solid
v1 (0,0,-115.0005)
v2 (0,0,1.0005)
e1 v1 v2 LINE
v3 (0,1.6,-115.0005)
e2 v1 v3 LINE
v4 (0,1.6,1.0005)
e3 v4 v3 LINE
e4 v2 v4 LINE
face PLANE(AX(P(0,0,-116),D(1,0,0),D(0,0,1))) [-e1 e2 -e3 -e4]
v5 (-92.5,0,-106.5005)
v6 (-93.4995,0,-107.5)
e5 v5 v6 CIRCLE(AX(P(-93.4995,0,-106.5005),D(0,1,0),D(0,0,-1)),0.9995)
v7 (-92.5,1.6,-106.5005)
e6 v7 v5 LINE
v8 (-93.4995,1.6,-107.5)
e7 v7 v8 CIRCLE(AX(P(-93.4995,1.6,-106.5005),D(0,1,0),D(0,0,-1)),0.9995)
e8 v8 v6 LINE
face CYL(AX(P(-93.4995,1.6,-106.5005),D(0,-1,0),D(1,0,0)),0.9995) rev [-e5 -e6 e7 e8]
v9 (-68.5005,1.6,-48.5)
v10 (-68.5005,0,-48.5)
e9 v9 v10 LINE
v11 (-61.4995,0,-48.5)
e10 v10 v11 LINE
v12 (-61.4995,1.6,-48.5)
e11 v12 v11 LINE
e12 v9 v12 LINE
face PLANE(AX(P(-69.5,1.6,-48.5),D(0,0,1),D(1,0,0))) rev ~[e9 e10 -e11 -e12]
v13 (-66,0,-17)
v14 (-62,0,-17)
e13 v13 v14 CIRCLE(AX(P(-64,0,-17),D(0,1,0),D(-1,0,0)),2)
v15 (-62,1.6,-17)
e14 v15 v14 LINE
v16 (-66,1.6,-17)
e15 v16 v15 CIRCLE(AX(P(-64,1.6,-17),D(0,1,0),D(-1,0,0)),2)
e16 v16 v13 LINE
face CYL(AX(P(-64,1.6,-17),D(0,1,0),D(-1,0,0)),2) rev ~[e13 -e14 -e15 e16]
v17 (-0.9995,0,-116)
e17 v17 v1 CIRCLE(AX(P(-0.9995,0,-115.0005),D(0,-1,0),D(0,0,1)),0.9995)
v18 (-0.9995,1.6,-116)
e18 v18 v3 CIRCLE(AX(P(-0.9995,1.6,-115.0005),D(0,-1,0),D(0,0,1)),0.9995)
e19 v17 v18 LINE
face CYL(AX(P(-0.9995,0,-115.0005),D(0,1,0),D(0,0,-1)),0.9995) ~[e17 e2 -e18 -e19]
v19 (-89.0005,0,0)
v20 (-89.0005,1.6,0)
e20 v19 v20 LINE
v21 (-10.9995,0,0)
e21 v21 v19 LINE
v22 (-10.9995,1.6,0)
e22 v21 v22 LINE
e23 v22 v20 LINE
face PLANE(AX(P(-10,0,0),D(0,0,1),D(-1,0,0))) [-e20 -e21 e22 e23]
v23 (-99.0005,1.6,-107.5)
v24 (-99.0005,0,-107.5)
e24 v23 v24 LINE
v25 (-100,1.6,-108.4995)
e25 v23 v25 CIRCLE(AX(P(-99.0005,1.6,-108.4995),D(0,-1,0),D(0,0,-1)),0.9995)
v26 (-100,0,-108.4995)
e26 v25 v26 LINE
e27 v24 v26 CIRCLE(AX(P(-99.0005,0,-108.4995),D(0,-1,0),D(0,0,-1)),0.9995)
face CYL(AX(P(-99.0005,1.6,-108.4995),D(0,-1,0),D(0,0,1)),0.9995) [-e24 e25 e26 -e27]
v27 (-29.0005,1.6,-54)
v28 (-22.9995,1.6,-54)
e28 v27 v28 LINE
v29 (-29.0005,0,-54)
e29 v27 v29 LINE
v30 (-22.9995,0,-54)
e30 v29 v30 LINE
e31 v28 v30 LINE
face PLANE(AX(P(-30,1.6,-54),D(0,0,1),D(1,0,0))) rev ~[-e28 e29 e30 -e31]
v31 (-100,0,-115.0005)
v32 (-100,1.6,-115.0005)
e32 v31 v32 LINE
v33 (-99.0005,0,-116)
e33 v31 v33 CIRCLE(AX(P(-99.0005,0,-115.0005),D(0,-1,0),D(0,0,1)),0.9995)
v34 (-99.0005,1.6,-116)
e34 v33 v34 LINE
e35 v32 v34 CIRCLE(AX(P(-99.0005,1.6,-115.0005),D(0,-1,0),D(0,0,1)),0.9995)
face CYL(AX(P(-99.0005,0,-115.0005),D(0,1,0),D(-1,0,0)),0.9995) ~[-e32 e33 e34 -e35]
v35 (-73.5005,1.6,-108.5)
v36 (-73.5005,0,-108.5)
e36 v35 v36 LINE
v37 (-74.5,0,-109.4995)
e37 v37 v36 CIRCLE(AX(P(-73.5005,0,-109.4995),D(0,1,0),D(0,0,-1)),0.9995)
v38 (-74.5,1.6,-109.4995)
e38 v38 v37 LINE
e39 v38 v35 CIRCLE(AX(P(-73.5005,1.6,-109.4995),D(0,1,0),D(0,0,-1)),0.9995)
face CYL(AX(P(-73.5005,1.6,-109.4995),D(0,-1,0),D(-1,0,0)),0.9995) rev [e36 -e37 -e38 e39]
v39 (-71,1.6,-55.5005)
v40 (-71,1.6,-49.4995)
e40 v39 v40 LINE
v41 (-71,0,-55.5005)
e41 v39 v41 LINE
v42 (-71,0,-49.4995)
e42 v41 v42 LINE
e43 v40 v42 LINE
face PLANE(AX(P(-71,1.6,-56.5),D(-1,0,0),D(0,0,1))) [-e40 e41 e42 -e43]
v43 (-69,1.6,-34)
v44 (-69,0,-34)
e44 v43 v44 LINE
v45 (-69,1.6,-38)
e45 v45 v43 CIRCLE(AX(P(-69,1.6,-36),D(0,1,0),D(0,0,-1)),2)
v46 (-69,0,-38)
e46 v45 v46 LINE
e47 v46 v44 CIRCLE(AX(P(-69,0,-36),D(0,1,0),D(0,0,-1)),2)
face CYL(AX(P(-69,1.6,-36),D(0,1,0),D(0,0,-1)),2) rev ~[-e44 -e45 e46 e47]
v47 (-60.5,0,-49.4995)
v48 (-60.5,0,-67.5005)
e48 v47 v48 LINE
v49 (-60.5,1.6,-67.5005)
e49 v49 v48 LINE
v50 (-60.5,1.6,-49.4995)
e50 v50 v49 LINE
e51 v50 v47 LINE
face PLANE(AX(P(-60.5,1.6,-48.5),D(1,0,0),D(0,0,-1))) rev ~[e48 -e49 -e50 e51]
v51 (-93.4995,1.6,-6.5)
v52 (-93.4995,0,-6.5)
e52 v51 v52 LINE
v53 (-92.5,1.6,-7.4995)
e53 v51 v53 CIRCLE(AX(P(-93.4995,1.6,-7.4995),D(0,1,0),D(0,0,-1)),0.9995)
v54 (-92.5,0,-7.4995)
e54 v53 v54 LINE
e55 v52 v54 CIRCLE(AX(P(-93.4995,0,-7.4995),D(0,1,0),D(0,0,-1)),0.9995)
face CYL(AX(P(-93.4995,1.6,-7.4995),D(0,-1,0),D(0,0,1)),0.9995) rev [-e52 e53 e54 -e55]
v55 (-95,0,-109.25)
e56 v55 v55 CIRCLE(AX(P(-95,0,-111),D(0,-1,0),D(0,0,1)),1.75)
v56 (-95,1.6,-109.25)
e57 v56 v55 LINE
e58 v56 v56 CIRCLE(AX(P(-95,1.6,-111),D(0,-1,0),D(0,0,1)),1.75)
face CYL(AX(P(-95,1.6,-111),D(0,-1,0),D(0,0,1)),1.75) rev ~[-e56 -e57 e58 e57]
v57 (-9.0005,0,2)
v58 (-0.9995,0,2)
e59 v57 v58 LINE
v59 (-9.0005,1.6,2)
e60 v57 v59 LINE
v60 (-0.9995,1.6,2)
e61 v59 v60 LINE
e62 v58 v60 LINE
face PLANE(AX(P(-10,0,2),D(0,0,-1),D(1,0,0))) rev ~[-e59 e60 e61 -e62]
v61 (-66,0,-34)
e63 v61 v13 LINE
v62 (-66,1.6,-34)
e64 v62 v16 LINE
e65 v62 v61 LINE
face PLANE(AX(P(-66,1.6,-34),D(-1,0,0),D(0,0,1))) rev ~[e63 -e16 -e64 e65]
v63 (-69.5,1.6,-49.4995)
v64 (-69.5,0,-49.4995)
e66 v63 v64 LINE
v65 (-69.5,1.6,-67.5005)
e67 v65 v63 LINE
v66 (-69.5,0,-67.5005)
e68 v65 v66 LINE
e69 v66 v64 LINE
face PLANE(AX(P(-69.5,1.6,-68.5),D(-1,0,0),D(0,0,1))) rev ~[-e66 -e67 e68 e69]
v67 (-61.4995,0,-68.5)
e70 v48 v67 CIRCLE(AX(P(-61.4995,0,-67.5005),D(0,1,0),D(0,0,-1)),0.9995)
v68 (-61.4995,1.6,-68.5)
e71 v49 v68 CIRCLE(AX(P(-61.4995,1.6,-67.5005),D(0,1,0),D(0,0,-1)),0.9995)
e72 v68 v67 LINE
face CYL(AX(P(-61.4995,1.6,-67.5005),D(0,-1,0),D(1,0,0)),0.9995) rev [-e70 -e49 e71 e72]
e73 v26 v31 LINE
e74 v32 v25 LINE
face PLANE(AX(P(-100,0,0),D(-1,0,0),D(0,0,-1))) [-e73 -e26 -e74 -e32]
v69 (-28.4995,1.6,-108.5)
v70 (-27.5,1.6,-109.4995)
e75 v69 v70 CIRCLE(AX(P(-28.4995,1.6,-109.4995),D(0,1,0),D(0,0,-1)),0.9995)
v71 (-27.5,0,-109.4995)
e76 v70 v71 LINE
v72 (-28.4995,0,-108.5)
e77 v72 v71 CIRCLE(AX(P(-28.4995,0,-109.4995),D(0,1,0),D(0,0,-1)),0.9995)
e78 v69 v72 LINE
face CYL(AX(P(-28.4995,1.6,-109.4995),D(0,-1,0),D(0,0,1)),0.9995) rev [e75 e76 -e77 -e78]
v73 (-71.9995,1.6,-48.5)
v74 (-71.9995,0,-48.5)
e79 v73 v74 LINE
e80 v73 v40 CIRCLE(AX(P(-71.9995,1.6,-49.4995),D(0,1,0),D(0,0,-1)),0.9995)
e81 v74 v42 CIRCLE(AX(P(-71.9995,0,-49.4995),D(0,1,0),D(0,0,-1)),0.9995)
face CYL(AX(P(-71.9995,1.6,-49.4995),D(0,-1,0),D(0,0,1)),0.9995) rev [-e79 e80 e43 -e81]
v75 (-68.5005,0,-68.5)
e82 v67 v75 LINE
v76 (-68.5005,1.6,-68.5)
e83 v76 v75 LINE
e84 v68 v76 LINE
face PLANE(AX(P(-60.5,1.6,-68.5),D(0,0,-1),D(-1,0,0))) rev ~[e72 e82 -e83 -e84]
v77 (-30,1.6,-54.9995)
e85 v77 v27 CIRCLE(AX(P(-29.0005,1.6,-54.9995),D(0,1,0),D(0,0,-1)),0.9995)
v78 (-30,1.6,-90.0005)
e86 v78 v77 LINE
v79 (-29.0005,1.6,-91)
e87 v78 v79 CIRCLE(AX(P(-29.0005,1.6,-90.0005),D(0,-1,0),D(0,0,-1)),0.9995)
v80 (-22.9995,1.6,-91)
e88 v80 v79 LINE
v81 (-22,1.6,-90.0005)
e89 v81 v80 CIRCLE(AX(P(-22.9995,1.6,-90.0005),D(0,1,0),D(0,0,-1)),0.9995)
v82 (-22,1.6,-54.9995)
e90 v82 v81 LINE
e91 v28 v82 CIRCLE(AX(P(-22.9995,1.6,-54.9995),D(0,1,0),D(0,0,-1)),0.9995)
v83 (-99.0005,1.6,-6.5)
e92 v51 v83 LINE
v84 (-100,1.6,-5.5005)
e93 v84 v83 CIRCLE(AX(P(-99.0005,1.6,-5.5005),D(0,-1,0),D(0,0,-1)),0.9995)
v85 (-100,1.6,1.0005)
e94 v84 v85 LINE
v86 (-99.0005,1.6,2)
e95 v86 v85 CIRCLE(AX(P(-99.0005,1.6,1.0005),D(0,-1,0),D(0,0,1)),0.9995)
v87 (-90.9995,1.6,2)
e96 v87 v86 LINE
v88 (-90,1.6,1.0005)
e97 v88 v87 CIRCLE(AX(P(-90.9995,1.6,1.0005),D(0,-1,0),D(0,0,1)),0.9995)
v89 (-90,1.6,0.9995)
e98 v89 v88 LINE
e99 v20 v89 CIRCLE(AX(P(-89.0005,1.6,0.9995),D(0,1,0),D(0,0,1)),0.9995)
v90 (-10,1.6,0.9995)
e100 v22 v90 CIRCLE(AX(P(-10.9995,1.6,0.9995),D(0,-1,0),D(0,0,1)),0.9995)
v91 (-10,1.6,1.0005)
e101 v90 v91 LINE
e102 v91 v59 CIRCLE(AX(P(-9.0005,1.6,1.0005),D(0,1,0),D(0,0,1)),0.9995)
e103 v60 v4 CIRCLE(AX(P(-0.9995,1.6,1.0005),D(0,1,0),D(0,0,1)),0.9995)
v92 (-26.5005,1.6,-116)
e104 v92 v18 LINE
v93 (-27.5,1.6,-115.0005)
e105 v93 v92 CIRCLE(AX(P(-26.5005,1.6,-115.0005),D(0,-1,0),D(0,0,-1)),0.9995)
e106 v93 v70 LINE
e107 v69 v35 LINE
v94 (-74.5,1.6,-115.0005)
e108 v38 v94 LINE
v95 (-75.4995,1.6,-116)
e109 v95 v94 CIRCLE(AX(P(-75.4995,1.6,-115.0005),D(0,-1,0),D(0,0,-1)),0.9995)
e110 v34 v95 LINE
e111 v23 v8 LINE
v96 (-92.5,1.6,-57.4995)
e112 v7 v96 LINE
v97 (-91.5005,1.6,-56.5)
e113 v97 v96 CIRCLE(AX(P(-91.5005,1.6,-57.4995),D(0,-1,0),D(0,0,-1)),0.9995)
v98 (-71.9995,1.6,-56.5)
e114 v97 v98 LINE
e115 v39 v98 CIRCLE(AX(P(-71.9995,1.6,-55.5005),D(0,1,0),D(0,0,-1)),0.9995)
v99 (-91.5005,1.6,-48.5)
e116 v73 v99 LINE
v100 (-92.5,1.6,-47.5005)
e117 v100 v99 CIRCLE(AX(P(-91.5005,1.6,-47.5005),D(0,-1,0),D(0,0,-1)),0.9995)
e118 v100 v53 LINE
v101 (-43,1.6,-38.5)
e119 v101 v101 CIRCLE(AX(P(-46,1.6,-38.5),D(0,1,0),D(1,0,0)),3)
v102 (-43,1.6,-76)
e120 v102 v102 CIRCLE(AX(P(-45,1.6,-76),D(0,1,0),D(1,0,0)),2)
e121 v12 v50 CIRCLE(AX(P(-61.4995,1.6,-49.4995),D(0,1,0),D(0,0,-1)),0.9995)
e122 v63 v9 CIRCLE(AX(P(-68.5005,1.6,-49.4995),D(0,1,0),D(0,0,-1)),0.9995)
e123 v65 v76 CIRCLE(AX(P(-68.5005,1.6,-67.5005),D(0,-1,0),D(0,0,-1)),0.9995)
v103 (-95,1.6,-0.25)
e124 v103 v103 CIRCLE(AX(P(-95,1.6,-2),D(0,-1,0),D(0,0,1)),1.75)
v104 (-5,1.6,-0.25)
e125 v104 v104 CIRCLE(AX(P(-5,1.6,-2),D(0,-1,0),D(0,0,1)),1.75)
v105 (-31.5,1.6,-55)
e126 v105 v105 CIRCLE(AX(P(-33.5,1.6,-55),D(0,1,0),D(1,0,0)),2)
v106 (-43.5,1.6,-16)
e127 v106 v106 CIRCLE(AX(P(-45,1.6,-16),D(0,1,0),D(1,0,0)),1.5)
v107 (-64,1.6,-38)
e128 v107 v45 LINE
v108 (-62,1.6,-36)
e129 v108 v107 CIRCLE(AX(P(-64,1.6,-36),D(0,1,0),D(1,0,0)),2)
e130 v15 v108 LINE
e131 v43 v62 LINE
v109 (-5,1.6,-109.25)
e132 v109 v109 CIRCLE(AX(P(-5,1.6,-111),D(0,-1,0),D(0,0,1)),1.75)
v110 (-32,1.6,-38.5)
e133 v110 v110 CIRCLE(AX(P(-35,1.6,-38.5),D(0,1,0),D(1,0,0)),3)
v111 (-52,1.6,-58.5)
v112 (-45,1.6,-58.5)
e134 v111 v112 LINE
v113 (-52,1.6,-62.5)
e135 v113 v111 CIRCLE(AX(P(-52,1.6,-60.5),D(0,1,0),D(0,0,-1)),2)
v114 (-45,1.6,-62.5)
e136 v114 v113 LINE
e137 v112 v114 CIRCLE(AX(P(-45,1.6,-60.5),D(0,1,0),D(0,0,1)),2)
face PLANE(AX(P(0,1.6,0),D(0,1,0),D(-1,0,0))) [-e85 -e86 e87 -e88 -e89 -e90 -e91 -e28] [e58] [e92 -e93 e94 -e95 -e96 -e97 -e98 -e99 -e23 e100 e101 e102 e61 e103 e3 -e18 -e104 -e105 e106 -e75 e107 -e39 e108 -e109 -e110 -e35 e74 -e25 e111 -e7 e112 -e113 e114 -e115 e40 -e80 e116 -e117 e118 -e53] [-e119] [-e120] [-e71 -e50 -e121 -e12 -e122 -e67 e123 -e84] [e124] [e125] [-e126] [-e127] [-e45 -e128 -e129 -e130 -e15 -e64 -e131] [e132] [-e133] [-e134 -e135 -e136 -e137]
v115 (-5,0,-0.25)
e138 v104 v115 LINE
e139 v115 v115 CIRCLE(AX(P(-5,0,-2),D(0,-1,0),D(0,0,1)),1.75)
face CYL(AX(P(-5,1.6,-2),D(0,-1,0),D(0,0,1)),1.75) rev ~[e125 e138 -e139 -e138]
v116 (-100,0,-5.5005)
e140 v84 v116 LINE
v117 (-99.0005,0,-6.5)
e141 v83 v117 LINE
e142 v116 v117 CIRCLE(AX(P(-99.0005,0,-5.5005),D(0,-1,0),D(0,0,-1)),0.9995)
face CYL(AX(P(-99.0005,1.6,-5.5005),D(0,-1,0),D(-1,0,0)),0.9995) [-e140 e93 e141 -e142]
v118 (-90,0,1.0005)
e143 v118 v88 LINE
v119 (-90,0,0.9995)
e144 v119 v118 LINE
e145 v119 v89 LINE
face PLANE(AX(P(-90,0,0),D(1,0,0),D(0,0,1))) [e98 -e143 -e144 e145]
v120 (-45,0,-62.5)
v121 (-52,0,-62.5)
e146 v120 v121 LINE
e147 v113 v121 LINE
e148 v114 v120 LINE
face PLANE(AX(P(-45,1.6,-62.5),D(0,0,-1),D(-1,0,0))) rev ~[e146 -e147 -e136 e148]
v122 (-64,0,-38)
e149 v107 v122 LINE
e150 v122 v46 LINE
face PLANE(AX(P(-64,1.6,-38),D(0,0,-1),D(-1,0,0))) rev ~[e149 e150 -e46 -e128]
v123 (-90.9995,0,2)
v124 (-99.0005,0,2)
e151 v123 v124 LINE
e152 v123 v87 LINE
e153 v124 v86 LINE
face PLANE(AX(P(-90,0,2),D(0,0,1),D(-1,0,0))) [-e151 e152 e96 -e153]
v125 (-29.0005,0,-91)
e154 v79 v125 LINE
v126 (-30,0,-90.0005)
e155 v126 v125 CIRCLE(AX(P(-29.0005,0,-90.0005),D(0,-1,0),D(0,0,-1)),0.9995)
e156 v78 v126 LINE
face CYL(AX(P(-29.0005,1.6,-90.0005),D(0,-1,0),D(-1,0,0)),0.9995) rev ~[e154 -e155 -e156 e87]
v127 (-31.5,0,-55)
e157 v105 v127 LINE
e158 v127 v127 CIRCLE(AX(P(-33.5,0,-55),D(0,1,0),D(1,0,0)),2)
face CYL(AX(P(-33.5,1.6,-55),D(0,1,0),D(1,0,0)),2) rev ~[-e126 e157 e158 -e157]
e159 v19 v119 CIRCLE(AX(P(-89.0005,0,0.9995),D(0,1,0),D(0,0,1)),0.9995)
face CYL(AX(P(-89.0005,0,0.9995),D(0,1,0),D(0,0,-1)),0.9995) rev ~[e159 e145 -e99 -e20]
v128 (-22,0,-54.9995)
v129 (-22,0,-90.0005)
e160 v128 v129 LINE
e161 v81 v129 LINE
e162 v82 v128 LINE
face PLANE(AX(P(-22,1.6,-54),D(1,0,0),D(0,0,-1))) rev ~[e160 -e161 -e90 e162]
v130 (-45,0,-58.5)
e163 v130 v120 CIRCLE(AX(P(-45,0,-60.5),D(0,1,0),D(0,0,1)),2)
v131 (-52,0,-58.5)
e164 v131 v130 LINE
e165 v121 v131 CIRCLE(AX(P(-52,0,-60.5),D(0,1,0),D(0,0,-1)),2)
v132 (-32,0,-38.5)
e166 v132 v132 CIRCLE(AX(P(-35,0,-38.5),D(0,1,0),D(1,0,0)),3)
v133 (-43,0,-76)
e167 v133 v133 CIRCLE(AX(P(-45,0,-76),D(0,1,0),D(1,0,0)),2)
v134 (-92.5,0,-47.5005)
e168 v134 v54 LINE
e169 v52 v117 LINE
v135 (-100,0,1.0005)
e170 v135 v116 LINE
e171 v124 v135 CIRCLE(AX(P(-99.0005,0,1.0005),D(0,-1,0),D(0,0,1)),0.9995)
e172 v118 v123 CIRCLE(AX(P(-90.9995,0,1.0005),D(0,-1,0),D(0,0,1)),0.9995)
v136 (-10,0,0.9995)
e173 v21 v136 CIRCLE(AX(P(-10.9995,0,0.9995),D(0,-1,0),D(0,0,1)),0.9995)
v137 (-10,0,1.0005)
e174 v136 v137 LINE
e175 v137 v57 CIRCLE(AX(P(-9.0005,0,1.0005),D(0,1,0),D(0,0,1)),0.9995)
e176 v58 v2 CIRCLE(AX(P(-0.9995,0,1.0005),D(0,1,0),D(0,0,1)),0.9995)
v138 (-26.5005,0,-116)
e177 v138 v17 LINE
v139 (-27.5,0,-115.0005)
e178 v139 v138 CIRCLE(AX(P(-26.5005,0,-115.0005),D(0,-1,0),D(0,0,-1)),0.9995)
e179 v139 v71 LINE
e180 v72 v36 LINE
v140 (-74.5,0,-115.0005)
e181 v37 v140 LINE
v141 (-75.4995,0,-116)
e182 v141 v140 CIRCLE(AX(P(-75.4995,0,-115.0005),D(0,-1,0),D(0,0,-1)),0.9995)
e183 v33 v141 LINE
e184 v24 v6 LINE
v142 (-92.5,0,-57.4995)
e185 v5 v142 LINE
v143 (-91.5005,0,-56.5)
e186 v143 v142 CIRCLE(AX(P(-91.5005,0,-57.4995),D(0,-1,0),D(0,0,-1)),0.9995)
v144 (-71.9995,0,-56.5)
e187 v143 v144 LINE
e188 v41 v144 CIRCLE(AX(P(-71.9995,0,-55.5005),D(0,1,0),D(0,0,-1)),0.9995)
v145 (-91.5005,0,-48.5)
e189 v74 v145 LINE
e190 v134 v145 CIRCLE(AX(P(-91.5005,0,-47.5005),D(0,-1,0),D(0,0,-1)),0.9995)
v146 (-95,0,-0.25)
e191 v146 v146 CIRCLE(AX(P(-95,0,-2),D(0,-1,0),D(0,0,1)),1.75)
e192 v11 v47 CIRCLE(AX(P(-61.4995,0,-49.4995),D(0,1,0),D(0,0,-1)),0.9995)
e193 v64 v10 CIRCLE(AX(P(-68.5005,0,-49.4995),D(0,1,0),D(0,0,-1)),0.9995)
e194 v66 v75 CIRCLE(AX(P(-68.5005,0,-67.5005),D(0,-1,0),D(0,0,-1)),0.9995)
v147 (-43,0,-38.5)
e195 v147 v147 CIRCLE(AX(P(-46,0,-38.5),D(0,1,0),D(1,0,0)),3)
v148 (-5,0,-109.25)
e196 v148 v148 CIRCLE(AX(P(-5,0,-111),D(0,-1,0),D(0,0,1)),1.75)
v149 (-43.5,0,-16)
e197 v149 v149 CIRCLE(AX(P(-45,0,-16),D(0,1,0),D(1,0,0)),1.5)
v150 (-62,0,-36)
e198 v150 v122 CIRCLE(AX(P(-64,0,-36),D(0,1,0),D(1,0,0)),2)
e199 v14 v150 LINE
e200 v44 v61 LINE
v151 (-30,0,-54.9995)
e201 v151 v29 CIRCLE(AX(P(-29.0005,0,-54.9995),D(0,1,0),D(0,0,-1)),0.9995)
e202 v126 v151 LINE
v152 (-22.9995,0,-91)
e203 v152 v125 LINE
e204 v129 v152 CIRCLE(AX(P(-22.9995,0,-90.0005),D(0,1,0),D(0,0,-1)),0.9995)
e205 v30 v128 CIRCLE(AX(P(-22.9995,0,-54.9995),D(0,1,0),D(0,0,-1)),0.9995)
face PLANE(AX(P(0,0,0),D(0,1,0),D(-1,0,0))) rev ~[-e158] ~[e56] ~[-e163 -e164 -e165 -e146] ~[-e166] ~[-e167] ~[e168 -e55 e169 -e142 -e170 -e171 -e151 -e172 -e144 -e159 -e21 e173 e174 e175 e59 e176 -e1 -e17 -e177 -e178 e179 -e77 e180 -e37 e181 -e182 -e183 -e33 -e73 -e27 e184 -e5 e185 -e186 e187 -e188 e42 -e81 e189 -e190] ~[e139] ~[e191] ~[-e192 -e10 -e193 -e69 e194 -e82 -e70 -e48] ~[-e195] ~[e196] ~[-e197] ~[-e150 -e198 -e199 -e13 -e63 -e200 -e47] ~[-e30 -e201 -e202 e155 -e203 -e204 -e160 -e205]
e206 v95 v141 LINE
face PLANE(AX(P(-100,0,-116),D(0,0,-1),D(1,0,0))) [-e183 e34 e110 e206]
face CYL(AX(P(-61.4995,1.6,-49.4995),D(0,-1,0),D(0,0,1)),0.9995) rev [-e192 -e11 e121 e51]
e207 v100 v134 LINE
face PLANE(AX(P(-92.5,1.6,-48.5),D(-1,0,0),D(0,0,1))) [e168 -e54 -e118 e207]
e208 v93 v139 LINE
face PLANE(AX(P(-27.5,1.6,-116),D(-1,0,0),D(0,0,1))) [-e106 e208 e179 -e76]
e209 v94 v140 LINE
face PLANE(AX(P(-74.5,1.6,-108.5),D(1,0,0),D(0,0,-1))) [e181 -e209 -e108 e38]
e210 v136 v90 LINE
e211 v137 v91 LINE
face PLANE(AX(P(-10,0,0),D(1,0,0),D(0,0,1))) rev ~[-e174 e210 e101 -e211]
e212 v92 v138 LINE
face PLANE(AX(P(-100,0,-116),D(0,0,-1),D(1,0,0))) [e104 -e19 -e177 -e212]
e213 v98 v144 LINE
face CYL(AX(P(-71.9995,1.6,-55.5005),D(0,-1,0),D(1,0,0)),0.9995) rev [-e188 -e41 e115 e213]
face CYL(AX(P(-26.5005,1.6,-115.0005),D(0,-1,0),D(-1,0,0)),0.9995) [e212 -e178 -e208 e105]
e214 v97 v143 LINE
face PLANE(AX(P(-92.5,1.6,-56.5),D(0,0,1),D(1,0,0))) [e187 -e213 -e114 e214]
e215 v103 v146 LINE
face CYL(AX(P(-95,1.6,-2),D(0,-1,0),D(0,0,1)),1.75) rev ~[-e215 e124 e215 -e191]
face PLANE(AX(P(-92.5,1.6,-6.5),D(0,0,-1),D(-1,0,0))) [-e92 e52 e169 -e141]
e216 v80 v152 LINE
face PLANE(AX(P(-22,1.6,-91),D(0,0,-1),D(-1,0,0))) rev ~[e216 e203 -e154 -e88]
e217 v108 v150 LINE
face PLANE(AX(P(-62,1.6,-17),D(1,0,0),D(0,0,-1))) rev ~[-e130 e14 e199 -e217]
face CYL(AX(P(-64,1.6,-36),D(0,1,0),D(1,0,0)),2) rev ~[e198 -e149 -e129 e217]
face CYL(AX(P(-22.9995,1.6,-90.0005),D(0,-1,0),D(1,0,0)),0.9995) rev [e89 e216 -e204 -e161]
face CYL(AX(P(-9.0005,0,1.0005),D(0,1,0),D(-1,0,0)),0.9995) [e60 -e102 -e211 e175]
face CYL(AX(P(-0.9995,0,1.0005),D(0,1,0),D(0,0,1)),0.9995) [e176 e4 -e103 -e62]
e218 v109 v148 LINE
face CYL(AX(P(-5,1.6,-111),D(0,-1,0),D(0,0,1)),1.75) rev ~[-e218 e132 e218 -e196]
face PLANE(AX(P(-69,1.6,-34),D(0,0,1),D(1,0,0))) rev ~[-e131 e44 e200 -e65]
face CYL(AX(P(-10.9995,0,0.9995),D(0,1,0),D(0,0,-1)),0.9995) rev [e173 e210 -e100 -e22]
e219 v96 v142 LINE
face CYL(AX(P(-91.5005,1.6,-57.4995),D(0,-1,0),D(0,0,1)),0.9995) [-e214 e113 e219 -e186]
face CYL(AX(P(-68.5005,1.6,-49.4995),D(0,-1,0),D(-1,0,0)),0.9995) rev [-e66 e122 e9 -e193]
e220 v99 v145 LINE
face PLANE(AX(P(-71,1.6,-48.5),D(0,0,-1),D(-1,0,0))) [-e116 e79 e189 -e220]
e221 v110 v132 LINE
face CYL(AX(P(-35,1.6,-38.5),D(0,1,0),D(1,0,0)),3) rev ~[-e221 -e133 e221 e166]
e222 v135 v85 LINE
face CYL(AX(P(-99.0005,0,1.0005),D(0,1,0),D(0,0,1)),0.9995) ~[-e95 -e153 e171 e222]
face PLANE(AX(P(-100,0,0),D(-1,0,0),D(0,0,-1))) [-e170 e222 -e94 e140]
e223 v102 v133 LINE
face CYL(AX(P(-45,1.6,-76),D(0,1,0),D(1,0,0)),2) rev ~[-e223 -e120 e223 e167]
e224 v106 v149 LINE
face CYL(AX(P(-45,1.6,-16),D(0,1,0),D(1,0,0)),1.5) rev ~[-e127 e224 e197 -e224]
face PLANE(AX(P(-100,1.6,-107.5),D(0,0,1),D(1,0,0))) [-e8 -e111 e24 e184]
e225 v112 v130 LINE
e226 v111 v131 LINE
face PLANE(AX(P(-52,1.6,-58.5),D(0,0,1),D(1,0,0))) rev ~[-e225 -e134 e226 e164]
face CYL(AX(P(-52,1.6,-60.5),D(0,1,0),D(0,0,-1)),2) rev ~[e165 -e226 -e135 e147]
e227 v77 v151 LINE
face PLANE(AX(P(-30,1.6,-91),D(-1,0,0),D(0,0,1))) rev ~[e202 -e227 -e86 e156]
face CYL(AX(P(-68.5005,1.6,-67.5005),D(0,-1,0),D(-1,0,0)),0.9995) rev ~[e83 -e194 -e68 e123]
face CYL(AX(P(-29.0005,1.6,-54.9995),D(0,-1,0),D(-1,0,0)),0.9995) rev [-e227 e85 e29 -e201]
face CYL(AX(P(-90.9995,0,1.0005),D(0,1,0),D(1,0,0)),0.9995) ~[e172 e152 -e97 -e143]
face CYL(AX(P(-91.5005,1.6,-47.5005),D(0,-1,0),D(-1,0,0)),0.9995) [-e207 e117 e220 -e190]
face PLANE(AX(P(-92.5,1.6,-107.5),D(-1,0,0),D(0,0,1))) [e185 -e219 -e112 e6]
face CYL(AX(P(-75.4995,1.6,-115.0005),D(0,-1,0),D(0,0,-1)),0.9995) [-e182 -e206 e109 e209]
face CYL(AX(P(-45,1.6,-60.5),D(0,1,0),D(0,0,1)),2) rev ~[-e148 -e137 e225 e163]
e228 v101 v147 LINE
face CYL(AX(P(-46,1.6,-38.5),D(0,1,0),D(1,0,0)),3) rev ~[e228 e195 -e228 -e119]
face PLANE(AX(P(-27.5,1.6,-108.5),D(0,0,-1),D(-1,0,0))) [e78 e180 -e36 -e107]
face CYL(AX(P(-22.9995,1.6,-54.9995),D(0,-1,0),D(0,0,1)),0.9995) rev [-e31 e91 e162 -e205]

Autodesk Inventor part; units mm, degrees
ref_plane "YZ Plane" through (0, 0, 0) normal (1, 0, 0) x (0, 1, 0)
ref_plane "XZ Plane" through (0, 0, 0) normal (0, 1, 0) x (-1, 0, 0)
ref_plane "XY Plane" through (0, 0, 0) normal (0, 0, 1) x (1, 0, 0)
sketch "Skizze1" plane through (0, 0, 0) normal (0, 1, 0) x (-1, 0, 0)
  line L0 (10, 0) -> (90, 0)
  line L1 (100, 0) -> (100, -116)
  line L2 (100, -116) -> (0, -116)
  line L3 (0, -116) -> (0, 0)
  line L4 (100, 0) -> (90, 0)
  line L5 (90, 0) -> (90, 2)
  line L6 (90, 2) -> (100, 2)
  line L7 (100, 2) -> (100, 0)
  line L8 (0, 0) -> (10, 0)
  line L9 (10, 0) -> (10, 2)
  line L10 (10, 2) -> (0, 2)
  line L11 (0, 2) -> (0, 0)
  dimension "d0" = 116
  dimension "d1" = 100
  dimension "d58" = 10
  dimension "d59" = 2
  dimension "d60" = 10
  dimension "d61" = 2
extrude "Extrusion1" add sketch "Skizze1" along normal blind 1.6
sketch "Skizze2" plane through (0, 1.6, 0) normal (0, 1, 0) x (1, 0, 0)
  line L0 (0, 116) -> (-100, 116) projected
  line L1 (-100, 116) -> (-100, -2) projected
  point P0 (0, 0)
  point P1 (-95, 111)
  point P2 (-100, 0)
  dimension "d4" = 5
  dimension "d5" = 5
hole "Bohrung1" at (-95, 1.6, -111) direction (0, -1, 0) diameter 3.5 end through all
pattern_linear "Rechteckige Anordnung1" count 2 spacing 109 along (0, 0, 1) count 2 spacing 90 along (1, 0, 0) of "Bohrung1"
sketch "Skizze3" plane through (0, 1.6, 0) normal (0, 1, 0) x (1, 0, 0)
  line L0 (-98.5, 8.5) -> (-94.5, 8.5)
  line L1 (-94.5, 8.5) -> (-94.5, 105.5)
  line L2 (-94.5, 105.5) -> (-98.5, 105.5)
  line L3 (-98.5, 105.5) -> (-98.5, 8.5)
  line L4 (-100, 116) -> (-100, -2) projected
  line L5 (0, 116) -> (-100, 116) projected
  line L6 (-94, 50.5) -> (-73, 50.5)
  line L7 (-73, 50.5) -> (-73, 54.5)
  line L8 (-73, 54.5) -> (-94, 54.5)
  line L9 (-94, 54.5) -> (-94, 50.5)
  line L10 (-72.5, 110.5) -> (-29.5, 110.5)
  line L11 (-29.5, 110.5) -> (-29.5, 114.5)
  line L12 (-29.5, 114.5) -> (-72.5, 114.5)
  line L13 (-72.5, 114.5) -> (-72.5, 110.5)
  line L14 (-28, 56) -> (-24, 56)
  line L15 (-24, 56) -> (-24, 89)
  line L16 (-24, 89) -> (-28, 89)
  line L17 (-28, 89) -> (-28, 56)
  line L18 (0, 0) -> (0, 116) projected
  line L19 (-67.5, 50.5) -> (-62.5, 50.5)
  line L20 (-62.5, 50.5) -> (-62.5, 66.5)
  line L21 (-62.5, 66.5) -> (-67.5, 66.5)
  line L22 (-67.5, 66.5) -> (-67.5, 50.5)
  line L23 (-71, 48.5) -> (-96, 48.5)
  line L24 (-96, 48.5) -> (-96, 56.5)
  line L25 (-96, 56.5) -> (-71, 56.5)
  line L26 (-71, 56.5) -> (-71, 48.5)
  line L27 (-92.5, 107.5) -> (-92.5, 6.5)
  line L28 (-92.5, 6.5) -> (-100.5, 6.5)
  line L29 (-100.5, 6.5) -> (-100.5, 107.5)
  line L30 (-100.5, 107.5) -> (-92.5, 107.5)
  line L31 (-69.5, 48.5) -> (-60.5, 48.5)
  line L32 (-60.5, 48.5) -> (-60.5, 68.5)
  line L33 (-60.5, 68.5) -> (-69.5, 68.5)
  line L34 (-69.5, 68.5) -> (-69.5, 48.5)
  line L35 (-27.5, 108.5) -> (-74.5, 108.5)
  line L36 (-74.5, 108.5) -> (-74.5, 116.5)
  line L37 (-74.5, 116.5) -> (-27.5, 116.5)
  line L38 (-27.5, 116.5) -> (-27.5, 108.5)
  line L39 (-30, 54) -> (-22, 54)
  line L40 (-22, 54) -> (-22, 91)
  line L41 (-22, 91) -> (-30, 91)
  line L42 (-30, 91) -> (-30, 54)
  point P0 (-100, 0)
  point P1 (-27.5, 116)
  point P2 (-74.5, 116)
  point P3 (-92.5, 48.5)
  point P4 (-92.5, 56.5)
  point P5 (-100, 107.5)
  point P6 (-100, 6.5)
  dimension "d19" = 97
  dimension "d20" = 4
  dimension "d21" = 1.5
  dimension "d22" = 10.5
  dimension "d23" = 4
  dimension "d24" = 21
  dimension "d25" = 61.5
  dimension "d26" = 6
  dimension "d27" = 43
  dimension "d28" = 4
  dimension "d29" = 1.5
  dimension "d30" = 27.5
  dimension "d31" = 4
  dimension "d32" = 33
  dimension "d33" = 24
  dimension "d34" = 27
  dimension "d47" = 5
  dimension "d48" = 16
  dimension "d49" = 0
  dimension "d50" = 62.5
  dimension "d53" = 2
  dimension "d54" = 2
  dimension "d55" = 2
  dimension "d56" = 2
  dimension "d57" = 2
extrude "Extrusion2" cut sketch "Skizze3" against normal through all contours L3 L2 L1 L25 L24 L23 L0 | L0 L1 L23 L27 L28 L4 L30 L25 L2 L3 | L23 L24 L25 L1 | L1 L25 L27 L8 L9 L6 L23 | L27 L6 L7 L8 L25 L26 L23 | L5 L38 L35 L36 | L27 L8 L7 L6 | L6 L9 L8 L27 | L13 L12 L11 L10 | L17 L16 L15 L14 | L22 L21 L20 L19 | L34 L33 L32 L31 | L42 L41 L40 L39
fillet "Rundung1" radius 1 28 edges at (-100, 0.8, 2) (-100, 0.8, -116) (-74.5, 0.8, -116) (-74.5, 0.8, -108.5) (-69.5, 0.8, -68.5) (-60.5, 0.8, -68.5) (-60.5, 0.8, -48.5) (-69.5, 0.8, -48.5) (-71, 0.8, -56.5) (-71, 0.8, -48.5) (-92.5, 0.8, -56.5) (-92.5, 0.8, -48.5) (-90, 0.8, 0) (-90, 0.8, 2) (-92.5, 0.8, -6.5) (-100, 0.8, -6.5) (-10, 0.8, 2) (-10, 0.8, 0) (0, 0.8, 2) (-22, 0.8, -54) (-30, 0.8, -54) (-30, 0.8, -91) (-22, 0.8, -91) (-27.5, 0.8, -108.5) (-27.5, 0.8, -116) (0, 0.8, -116) (-92.5, 0.8, -107.5) (-100, 0.8, -107.5)
sketch "Skizze4" plane through (0, 1.6, 0) normal (0, 1, 0) x (1, 0, 0)
  circle A0 centre (-45, 76) radius 2
  line L0 (-1, 116) -> (-26.5, 116) projected
  line L1 (0, -1) -> (0, 115) projected
  circle A1 centre (-33.5, 55) radius 2
  line L2 (-52, 60.5) -> (-45, 60.5) construction
  line L3 (-52, 58.5) -> (-45, 58.5)
  line L4 (-45, 62.5) -> (-52, 62.5)
  arc A2 (-52, 62.5) -> (-52, 58.5) centre (-52, 60.5) ccw
  arc A3 (-45, 58.5) -> (-45, 62.5) centre (-45, 60.5) ccw
  line L5 (-75.5, 116) -> (-99, 116) projected
  line L6 (-100, 115) -> (-100, 108.5) projected
  circle A4 centre (-46, 38.5) radius 3
  circle A5 centre (-35, 38.5) radius 3
  line L7 (-9, -2) -> (-1, -2) projected
  line L8 (-64, 17) -> (-64, 36) construction
  line L9 (-62, 17) -> (-62, 36)
  line L10 (-66, 36) -> (-66, 17)
  arc A6 (-66, 17) -> (-62, 17) centre (-64, 17) ccw
  arc A7 (-62, 36) -> (-66, 36) centre (-64, 36) ccw
  line L11 (-100, 5.5) -> (-100, -1) projected
  line L12 (-64, 36) -> (-69, 36) construction
  line L13 (-64, 38) -> (-69, 38)
  line L14 (-69, 34) -> (-64, 34)
  arc A8 (-64, 34) -> (-64, 38) centre (-64, 36) ccw
  arc A9 (-69, 38) -> (-69, 34) centre (-69, 36) ccw
  circle A10 centre (-45, 16) radius 1.5
  point P0 (0, 0)
  point P1 (-48.5, 60.5)
  point P2 (-64, 26.5)
  point P3 (-66.5, 36)
  dimension "d63" = 4
  dimension "d64" = 40
  dimension "d65" = 45
  dimension "d66" = 4
  dimension "d67" = 33.5
  dimension "d68" = 61
  dimension "d69" = 7
  dimension "d70" = 4
  dimension "d71" = 55.5
  dimension "d72" = 48
  dimension "d73" = 6
  dimension "d74" = 6
  dimension "d75" = 11
  dimension "d76" = 0
  dimension "d77" = 35
  dimension "d79" = 77.5
  dimension "d80" = 19
  dimension "d81" = 4
  dimension "d82" = 36
  dimension "d83" = 80
  dimension "d84" = 5
  dimension "d85" = 4
  dimension "d86" = 3
  dimension "d87" = 100
  dimension "d88" = 45
extrude "Ausklinkung1" cut sketch "Skizze4" against normal blind 2
equation "\"Biegeradius\" = Stärke"
equation "\"BreiteBiegungsfreistellung\" = Stärke"
equation "\"TiefeBiegungsfreistellung\" = 0.5 * Stärke"
equation "\"GrößeEckenfreistellung\" = 4 * Stärke"
equation "\"MinimalRest\" = 2 * Stärke"
equation "\"Übergangsradius\" = Biegeradius"
equation "\"JacobiRadiusGröße\" = Biegeradius"
equation "\"Abstandsgröße\" = Stärke"
equation "\"d89\" = Stärke"
equation "\"Stärke\" = 1.5"
properties part number "mainunitshield"
